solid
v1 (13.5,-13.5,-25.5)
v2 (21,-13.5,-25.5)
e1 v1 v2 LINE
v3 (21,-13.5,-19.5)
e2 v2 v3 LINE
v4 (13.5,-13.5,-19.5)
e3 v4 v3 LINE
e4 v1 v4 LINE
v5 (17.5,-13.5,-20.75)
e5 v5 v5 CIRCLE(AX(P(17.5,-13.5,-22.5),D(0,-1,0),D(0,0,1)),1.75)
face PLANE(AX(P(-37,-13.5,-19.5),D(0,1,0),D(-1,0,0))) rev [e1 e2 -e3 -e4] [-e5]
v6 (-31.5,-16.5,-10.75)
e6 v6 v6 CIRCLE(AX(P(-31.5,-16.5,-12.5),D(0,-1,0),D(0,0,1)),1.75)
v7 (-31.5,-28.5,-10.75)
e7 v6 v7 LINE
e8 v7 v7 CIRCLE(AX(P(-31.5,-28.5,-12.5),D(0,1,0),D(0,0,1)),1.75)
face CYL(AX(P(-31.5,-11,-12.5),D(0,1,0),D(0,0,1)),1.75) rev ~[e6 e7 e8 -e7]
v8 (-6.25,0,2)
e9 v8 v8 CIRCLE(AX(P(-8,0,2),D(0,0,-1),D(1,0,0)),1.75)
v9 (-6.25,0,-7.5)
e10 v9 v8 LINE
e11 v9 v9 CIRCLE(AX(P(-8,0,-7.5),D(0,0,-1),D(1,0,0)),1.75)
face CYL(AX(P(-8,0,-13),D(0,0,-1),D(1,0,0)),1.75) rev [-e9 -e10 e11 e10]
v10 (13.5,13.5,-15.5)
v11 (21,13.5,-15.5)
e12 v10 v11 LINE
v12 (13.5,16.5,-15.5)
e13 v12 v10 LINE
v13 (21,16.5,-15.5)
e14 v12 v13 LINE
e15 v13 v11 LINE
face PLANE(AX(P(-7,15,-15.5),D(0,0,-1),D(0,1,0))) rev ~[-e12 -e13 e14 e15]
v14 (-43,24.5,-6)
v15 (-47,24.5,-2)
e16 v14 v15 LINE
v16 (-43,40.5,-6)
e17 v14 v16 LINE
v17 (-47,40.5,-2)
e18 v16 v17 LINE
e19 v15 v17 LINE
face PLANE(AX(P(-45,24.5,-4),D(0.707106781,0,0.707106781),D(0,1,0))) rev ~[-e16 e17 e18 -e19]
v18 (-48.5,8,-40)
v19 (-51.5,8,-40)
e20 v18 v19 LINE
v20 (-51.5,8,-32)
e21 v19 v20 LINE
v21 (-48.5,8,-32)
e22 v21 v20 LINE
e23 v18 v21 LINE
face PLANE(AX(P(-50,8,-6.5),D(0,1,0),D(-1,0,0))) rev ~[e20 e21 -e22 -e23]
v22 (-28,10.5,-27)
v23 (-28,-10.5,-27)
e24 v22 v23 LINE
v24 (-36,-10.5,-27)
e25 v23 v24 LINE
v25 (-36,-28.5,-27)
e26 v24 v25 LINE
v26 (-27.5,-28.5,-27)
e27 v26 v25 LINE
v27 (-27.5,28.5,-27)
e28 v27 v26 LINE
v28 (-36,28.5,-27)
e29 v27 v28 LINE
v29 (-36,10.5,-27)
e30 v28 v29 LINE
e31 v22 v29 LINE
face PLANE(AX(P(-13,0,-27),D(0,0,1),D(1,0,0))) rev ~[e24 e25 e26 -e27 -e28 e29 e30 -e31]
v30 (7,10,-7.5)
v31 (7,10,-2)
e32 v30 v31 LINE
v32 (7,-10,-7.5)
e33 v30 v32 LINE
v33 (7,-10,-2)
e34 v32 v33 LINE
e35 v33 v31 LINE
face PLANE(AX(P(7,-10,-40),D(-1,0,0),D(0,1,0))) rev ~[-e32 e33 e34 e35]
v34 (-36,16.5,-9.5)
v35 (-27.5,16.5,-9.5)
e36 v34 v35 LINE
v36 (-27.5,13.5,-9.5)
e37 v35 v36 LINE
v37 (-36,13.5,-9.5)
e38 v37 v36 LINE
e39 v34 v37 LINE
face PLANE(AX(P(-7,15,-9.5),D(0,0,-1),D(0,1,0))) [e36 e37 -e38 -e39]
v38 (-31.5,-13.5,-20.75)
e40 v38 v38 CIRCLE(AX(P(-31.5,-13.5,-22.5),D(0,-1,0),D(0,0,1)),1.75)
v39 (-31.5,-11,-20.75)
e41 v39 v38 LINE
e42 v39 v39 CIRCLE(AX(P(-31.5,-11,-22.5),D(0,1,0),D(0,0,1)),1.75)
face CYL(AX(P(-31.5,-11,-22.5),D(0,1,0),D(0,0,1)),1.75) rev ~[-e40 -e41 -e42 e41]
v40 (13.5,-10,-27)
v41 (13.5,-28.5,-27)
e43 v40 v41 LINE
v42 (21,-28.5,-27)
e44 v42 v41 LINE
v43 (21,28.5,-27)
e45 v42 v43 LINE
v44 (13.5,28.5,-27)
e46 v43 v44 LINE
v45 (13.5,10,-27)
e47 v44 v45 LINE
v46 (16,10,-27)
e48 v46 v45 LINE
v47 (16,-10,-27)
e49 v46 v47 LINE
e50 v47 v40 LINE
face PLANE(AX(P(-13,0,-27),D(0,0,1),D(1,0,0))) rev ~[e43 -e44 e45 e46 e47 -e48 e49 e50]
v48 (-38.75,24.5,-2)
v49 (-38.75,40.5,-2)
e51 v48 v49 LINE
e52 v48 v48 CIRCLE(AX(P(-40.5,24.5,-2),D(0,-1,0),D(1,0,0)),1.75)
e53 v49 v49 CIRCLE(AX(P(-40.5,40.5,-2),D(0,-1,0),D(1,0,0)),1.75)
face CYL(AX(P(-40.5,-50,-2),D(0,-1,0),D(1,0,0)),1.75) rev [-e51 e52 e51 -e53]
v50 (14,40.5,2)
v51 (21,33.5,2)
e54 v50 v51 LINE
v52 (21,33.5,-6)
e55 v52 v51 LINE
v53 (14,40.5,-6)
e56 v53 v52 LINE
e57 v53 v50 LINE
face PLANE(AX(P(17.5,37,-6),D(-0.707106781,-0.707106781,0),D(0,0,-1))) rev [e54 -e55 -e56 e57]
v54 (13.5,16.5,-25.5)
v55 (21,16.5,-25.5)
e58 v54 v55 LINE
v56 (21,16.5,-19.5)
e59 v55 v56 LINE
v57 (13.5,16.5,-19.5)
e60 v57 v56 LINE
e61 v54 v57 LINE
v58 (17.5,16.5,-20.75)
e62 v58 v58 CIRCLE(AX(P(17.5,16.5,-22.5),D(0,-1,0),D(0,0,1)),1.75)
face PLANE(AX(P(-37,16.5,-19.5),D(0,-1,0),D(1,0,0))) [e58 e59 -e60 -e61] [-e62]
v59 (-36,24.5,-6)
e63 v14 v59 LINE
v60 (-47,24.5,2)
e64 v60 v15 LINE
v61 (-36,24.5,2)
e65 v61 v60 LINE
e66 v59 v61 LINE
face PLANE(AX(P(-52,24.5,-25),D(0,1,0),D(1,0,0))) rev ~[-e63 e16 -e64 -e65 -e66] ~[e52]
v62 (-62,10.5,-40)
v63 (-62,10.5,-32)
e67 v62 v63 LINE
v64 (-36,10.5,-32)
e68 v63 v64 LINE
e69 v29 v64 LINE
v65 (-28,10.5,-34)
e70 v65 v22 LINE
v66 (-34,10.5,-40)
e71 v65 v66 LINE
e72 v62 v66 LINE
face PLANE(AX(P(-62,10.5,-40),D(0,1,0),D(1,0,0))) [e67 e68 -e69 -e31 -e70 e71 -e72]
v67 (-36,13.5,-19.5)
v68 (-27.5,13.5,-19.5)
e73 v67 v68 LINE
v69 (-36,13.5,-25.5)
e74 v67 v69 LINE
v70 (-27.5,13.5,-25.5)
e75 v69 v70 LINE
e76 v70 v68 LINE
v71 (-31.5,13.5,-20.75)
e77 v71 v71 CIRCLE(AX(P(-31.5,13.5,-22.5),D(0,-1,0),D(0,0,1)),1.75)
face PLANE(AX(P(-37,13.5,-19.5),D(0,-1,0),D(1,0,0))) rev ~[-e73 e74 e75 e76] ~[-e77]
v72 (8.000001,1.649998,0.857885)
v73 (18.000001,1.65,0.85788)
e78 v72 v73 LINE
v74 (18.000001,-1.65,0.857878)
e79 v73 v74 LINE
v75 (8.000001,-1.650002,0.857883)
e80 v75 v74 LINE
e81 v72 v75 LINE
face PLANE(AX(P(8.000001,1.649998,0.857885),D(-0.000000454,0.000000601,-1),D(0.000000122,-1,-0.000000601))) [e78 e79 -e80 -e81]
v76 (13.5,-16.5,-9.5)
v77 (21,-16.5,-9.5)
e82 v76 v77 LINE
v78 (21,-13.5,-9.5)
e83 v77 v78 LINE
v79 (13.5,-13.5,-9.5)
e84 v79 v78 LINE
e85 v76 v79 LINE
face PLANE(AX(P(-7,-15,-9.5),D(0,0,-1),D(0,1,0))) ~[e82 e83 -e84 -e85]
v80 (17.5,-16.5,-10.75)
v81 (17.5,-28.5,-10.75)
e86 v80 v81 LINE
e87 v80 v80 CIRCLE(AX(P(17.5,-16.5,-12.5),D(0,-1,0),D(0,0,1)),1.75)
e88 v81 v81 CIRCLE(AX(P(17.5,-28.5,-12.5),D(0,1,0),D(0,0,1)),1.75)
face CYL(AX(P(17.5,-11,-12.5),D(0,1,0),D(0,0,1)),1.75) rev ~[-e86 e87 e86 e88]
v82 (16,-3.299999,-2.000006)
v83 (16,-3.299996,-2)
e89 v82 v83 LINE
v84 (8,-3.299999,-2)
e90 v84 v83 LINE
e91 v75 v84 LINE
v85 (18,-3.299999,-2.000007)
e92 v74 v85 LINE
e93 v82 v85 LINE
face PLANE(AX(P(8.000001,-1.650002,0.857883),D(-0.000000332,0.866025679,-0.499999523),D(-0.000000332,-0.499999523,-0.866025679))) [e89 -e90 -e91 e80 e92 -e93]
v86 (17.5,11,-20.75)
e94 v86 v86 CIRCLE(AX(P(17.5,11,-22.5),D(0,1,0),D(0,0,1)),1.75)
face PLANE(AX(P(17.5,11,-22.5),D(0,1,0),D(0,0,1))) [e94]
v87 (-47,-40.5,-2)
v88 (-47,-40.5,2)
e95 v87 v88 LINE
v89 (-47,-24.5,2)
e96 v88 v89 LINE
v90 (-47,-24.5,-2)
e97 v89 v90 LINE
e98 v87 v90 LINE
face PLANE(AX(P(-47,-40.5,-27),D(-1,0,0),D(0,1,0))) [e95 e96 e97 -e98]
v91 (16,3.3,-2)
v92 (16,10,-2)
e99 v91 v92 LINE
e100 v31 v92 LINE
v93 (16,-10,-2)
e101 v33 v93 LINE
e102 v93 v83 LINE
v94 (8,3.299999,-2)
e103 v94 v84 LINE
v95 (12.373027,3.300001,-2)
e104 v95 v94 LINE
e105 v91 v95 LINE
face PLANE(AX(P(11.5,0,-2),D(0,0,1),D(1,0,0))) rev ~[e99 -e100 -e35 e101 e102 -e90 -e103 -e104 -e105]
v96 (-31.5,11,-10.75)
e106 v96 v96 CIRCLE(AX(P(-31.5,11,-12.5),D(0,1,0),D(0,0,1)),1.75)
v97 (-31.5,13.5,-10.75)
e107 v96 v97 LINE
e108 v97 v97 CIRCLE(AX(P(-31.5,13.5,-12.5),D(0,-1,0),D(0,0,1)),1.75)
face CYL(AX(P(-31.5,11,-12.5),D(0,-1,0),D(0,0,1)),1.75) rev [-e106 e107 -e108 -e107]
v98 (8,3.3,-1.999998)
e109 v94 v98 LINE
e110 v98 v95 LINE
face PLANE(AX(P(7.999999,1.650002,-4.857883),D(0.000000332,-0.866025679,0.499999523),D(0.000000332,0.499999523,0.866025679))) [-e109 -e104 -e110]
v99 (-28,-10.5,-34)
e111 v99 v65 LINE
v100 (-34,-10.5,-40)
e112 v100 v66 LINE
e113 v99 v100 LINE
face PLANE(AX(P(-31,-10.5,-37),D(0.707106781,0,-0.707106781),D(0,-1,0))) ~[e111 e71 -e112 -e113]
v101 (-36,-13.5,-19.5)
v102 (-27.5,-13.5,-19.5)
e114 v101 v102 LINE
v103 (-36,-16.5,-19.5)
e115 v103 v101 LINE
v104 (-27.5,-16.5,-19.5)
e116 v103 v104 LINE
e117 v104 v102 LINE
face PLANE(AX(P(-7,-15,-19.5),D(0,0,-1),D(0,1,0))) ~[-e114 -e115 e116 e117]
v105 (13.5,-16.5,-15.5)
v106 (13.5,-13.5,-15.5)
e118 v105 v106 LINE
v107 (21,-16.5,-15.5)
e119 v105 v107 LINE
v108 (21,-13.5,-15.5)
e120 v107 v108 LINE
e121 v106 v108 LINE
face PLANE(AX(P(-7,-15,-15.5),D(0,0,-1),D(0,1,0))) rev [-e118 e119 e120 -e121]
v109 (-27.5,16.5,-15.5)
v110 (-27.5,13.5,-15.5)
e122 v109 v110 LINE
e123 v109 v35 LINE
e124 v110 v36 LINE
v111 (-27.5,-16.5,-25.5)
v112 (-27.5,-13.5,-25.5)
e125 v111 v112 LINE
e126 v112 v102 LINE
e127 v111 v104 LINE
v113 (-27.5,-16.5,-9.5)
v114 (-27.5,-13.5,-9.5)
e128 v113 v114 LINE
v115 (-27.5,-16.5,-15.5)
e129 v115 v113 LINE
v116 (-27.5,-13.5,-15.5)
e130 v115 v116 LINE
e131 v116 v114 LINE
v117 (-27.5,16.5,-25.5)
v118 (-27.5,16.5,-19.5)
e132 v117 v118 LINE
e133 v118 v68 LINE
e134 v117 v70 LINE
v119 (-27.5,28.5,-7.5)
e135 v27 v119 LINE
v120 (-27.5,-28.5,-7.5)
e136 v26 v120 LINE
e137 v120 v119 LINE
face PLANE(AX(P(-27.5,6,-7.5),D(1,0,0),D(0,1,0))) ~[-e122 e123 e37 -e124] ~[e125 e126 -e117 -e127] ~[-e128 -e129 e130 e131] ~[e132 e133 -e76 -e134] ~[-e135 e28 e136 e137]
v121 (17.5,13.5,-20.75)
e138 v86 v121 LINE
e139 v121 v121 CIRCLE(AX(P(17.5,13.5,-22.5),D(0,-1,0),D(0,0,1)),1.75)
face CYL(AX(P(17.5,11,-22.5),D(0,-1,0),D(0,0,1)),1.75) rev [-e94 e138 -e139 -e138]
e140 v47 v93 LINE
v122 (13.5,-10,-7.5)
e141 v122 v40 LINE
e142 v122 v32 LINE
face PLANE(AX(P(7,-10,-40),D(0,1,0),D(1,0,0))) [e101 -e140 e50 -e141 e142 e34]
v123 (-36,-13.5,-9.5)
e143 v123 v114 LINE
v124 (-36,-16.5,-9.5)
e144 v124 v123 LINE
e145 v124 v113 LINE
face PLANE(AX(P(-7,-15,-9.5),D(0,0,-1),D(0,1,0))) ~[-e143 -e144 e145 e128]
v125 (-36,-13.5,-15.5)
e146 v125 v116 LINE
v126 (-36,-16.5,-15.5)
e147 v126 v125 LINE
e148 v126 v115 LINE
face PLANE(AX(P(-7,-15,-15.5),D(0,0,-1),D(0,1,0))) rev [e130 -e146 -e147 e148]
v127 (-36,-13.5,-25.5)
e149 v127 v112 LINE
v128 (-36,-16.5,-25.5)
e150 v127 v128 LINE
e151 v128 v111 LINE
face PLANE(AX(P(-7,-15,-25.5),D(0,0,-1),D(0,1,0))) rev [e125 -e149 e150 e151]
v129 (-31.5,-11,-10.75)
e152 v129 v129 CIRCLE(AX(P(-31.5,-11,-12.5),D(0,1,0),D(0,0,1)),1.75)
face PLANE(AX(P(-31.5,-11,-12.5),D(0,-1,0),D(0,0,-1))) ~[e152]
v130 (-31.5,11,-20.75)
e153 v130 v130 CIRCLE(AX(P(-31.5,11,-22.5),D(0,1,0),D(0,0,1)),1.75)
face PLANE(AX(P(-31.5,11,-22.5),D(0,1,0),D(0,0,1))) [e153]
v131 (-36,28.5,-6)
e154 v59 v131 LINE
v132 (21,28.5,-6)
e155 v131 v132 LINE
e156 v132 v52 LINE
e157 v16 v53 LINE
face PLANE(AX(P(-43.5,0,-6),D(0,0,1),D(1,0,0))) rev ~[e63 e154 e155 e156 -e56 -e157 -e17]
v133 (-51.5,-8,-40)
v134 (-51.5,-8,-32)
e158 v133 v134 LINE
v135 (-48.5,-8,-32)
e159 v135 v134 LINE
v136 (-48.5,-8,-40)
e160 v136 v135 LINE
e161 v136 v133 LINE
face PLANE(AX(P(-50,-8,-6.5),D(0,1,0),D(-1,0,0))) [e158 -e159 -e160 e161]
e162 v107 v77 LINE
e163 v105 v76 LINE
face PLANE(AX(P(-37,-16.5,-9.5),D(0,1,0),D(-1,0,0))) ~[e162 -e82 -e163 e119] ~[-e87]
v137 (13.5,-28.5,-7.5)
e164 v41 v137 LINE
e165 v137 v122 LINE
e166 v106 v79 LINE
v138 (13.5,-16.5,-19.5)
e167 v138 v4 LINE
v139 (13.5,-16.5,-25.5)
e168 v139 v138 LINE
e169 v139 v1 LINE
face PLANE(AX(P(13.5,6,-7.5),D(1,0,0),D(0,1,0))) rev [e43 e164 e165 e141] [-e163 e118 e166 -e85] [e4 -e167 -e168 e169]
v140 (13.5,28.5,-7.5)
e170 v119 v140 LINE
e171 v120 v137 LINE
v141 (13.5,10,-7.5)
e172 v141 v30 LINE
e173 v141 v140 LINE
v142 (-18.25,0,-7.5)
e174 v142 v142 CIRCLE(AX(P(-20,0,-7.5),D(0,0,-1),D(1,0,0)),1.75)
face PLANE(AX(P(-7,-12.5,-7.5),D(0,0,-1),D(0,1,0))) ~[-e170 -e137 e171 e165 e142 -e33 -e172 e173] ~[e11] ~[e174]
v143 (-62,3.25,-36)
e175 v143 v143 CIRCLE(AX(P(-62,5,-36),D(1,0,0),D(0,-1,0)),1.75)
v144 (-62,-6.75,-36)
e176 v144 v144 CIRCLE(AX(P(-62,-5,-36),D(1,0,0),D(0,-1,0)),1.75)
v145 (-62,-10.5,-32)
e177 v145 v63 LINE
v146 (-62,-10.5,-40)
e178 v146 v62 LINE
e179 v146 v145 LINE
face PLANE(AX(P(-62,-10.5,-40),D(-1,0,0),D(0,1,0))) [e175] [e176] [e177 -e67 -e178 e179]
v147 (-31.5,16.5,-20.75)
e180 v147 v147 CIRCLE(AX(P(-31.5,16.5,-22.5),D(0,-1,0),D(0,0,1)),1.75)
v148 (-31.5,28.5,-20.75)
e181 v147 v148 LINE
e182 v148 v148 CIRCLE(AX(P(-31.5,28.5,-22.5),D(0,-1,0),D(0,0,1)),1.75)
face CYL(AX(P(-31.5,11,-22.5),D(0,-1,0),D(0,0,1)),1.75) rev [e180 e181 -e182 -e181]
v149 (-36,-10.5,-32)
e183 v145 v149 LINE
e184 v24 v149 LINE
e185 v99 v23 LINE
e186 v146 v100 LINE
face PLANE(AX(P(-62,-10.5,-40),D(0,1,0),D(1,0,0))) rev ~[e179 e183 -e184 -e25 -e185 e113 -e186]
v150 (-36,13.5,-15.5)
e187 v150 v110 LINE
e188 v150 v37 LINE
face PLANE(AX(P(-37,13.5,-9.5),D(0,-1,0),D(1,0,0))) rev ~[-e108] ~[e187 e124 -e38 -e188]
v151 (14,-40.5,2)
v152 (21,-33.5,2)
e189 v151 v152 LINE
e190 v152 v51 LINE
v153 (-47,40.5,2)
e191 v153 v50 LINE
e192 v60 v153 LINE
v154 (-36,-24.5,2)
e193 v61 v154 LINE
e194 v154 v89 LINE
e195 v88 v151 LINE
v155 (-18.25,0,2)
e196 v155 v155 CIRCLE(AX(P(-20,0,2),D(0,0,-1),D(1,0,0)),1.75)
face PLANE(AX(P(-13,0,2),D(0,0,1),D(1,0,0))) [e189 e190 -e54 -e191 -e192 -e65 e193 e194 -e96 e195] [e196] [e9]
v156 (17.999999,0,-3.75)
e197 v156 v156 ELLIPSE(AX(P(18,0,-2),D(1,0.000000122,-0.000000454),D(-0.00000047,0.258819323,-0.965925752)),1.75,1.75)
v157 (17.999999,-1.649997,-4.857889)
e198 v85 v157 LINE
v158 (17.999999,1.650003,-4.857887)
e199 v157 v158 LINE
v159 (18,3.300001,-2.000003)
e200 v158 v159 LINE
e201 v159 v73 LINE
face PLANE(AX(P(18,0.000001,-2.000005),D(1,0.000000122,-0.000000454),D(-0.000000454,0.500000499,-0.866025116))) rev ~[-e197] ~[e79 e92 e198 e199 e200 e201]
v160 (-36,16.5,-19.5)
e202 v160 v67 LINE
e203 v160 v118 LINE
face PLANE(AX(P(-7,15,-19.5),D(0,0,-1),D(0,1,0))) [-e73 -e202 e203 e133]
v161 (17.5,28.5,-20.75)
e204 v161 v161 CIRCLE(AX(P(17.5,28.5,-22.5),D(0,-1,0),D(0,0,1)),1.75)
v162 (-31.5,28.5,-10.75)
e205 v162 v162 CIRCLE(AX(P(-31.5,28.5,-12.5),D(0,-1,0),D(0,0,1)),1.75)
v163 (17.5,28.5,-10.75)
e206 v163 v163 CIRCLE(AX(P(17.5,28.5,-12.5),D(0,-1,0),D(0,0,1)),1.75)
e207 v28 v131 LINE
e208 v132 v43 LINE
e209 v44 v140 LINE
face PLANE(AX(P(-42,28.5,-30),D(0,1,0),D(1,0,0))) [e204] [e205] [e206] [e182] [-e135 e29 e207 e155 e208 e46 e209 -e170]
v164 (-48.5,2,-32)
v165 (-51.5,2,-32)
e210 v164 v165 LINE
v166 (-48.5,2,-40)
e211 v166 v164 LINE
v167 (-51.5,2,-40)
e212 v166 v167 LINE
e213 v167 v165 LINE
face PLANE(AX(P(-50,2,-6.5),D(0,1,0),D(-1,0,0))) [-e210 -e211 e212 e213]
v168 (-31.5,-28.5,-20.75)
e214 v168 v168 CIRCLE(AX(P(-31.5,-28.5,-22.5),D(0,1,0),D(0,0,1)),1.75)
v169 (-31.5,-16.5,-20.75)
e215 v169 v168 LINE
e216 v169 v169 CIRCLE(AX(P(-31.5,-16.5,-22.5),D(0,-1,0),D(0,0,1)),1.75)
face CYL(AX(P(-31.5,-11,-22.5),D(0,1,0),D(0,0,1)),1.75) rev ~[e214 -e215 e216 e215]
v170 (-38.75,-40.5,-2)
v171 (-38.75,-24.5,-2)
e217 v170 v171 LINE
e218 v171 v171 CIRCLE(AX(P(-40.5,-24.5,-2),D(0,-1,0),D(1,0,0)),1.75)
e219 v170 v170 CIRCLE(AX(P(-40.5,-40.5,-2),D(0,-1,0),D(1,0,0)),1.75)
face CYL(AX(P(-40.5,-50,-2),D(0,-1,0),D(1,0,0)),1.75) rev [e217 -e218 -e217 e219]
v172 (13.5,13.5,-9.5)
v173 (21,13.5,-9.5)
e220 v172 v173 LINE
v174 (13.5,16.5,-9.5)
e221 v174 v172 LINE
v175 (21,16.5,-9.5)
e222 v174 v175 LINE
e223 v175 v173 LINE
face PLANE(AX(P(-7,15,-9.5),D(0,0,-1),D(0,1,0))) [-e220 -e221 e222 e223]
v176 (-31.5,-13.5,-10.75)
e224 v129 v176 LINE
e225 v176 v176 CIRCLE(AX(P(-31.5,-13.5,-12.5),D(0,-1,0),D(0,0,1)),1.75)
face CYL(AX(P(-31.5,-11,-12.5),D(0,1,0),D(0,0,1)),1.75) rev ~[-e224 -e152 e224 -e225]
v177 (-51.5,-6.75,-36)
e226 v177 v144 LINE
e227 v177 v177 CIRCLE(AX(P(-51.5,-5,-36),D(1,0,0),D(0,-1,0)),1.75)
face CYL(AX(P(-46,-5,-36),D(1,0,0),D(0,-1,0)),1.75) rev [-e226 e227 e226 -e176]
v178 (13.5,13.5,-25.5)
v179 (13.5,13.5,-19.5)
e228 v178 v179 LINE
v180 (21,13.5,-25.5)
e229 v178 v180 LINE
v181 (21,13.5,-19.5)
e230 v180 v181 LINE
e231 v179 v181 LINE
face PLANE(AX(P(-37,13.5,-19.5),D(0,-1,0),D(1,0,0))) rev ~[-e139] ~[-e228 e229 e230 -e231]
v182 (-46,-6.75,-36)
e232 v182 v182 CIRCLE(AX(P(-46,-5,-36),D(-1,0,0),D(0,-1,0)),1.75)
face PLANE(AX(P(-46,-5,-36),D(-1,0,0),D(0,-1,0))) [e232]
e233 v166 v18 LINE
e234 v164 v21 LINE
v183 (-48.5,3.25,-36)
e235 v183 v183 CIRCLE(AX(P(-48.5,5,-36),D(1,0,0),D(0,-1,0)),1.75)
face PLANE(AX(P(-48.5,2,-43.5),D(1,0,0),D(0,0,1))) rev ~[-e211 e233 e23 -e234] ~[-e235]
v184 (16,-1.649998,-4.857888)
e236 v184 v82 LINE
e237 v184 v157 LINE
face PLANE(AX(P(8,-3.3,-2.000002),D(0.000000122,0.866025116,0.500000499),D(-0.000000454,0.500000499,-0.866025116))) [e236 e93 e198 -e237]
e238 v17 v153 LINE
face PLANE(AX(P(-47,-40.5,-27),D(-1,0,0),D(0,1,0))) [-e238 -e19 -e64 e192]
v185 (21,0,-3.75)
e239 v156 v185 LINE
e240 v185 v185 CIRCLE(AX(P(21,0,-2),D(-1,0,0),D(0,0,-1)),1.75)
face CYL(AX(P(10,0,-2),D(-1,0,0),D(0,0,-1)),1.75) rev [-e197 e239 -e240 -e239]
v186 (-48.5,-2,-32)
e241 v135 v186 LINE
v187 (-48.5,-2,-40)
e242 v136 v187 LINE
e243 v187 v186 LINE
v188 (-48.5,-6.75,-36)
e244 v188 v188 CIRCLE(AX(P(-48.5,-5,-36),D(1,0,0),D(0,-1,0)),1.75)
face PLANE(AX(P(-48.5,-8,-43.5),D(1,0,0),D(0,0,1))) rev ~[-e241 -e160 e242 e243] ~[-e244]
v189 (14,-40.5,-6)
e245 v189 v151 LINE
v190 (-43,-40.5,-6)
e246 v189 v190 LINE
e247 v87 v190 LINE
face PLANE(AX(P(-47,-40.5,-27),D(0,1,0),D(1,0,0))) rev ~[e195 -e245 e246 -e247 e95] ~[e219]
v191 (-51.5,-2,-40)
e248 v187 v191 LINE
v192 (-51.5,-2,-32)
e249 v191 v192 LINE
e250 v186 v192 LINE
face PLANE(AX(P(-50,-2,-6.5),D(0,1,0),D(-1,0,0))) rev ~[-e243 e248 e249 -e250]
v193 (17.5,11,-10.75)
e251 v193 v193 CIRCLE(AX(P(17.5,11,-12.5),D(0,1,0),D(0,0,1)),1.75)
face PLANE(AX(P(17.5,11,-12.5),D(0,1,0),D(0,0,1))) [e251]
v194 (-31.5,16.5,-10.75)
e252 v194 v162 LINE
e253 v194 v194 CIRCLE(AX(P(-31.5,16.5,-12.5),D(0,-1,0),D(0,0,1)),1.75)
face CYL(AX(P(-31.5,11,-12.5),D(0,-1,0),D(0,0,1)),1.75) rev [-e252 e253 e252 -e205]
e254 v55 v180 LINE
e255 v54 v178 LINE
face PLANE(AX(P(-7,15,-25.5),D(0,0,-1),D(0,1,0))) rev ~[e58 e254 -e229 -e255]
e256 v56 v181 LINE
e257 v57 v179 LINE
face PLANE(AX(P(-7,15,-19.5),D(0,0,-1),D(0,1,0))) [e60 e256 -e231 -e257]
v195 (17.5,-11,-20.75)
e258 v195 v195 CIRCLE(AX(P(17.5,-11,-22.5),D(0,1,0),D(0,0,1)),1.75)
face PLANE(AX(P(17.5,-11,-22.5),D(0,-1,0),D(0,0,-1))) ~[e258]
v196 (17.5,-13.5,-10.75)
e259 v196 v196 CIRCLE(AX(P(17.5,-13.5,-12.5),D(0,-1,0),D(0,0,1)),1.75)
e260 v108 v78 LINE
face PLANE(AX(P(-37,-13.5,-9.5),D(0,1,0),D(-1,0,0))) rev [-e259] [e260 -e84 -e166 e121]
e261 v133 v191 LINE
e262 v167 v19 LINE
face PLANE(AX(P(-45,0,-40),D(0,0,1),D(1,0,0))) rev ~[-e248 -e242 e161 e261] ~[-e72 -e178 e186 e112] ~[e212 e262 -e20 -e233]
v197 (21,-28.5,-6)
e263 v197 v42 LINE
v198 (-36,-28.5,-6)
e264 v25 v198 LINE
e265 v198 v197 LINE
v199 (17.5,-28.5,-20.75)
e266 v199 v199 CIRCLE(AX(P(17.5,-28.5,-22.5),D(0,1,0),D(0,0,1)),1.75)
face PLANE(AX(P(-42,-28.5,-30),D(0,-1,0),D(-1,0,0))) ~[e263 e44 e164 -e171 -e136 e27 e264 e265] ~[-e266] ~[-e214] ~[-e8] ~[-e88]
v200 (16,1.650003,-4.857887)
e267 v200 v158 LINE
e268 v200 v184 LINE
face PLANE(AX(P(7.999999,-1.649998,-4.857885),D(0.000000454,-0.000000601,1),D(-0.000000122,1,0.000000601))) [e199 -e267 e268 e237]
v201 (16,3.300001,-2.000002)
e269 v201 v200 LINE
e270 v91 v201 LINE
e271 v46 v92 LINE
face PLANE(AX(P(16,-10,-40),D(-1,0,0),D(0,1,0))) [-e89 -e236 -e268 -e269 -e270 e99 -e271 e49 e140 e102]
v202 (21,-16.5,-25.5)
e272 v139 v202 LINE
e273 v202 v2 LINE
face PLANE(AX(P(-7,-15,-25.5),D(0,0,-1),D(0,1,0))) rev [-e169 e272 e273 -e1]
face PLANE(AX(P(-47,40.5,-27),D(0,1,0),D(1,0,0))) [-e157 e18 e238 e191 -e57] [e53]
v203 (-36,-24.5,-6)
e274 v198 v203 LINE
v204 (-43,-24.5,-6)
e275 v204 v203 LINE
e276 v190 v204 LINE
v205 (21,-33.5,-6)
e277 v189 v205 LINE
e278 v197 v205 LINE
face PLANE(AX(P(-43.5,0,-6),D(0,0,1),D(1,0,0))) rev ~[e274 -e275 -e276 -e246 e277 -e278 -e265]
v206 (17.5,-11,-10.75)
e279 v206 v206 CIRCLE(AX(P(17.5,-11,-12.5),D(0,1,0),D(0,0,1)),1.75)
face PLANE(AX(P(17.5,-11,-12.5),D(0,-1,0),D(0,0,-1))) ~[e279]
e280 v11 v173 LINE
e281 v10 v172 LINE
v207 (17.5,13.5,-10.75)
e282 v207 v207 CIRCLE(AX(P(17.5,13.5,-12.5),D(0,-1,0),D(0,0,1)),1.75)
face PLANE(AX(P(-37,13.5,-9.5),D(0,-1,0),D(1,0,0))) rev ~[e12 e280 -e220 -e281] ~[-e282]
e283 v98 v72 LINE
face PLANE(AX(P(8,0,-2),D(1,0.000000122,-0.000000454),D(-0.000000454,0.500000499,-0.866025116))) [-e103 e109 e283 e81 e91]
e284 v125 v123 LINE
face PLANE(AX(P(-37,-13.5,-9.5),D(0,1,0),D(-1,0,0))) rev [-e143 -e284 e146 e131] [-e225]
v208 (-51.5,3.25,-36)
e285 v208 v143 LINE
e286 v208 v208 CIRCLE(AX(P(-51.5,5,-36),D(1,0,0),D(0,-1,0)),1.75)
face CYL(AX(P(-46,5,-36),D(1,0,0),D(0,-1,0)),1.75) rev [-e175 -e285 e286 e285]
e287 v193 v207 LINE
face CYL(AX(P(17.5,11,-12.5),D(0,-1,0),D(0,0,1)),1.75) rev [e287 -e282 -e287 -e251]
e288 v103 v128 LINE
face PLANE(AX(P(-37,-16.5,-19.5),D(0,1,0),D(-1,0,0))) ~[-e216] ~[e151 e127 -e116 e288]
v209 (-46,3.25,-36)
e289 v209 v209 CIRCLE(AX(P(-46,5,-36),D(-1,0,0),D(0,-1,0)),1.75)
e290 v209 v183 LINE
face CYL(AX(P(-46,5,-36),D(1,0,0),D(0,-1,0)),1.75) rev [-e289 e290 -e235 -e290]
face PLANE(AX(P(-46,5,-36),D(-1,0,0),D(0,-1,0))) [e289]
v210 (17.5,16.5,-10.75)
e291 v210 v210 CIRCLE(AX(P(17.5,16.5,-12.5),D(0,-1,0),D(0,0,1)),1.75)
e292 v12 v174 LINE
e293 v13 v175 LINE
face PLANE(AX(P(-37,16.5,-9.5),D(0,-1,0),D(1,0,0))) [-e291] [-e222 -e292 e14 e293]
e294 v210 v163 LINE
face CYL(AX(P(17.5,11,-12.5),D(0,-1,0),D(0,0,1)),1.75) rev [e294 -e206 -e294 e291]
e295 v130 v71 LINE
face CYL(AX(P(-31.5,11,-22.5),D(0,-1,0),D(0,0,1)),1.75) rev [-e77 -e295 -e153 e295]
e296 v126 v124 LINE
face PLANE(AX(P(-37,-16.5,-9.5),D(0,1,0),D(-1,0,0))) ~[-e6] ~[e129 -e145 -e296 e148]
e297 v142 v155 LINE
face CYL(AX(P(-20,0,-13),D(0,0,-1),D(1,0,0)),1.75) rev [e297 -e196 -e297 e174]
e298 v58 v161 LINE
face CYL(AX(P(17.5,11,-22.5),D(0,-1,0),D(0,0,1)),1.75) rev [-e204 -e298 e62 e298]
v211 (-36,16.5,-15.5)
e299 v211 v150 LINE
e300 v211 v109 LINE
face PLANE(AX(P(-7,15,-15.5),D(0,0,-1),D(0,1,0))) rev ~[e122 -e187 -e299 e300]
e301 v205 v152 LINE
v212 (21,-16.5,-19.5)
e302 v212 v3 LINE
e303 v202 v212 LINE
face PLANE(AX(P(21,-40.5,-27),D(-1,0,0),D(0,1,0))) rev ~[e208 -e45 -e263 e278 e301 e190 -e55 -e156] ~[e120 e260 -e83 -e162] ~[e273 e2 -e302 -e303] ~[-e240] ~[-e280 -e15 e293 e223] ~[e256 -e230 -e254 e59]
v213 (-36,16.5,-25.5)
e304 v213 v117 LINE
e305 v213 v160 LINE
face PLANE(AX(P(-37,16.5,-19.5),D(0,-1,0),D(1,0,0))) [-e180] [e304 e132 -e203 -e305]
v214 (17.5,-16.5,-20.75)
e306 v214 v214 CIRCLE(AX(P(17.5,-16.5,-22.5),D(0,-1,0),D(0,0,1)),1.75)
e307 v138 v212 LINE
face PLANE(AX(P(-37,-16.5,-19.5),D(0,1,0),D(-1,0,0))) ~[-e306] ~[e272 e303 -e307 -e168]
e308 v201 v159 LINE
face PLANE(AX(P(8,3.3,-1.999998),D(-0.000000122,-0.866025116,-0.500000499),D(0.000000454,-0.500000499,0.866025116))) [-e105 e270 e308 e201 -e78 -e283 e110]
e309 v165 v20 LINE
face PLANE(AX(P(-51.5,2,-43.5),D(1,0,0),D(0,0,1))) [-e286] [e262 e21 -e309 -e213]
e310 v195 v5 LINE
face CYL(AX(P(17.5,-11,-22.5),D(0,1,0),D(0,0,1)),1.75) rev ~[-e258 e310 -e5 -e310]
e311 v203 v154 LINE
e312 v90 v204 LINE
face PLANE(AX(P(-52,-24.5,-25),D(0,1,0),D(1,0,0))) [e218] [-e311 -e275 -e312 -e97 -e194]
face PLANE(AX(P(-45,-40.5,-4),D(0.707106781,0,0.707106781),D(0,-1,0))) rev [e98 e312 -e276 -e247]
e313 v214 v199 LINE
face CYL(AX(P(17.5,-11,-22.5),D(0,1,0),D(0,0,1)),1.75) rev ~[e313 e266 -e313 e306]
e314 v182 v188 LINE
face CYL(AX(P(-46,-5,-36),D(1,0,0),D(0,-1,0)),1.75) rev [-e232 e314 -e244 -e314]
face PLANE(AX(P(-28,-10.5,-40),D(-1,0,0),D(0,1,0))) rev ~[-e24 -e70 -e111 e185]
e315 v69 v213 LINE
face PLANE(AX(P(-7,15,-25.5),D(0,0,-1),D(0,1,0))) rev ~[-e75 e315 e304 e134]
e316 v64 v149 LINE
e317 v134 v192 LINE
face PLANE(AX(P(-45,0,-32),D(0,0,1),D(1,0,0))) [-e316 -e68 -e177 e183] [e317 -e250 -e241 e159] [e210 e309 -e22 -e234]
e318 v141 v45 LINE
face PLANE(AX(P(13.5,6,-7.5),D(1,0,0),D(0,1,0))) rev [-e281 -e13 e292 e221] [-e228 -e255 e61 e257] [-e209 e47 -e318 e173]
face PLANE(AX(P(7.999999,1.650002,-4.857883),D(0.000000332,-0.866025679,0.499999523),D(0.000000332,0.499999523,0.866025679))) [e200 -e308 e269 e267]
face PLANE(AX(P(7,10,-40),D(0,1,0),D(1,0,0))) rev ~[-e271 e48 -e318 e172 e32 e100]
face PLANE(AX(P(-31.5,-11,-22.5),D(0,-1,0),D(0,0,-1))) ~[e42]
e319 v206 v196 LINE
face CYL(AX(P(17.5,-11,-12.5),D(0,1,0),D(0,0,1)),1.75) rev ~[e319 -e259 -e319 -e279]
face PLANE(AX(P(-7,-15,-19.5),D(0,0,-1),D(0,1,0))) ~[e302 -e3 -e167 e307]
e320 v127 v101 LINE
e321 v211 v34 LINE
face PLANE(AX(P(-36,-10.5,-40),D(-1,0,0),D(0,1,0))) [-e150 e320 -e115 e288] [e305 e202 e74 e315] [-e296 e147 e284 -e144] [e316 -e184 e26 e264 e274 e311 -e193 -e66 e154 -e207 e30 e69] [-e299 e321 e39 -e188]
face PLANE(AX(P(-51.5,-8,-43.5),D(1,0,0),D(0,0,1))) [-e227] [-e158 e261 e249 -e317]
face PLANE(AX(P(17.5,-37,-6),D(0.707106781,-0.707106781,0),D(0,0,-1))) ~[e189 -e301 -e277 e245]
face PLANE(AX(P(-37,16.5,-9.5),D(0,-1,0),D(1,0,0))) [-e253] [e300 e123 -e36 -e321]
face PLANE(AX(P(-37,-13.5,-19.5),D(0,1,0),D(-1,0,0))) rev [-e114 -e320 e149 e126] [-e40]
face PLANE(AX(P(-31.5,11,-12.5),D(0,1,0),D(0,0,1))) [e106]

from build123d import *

# Parameters (mm, degrees)
BOX061_W                  = 15
BOX061_H                  = 100
BOX061_DEPTH              = 24
BOX060_W                  = 9
BOX060_H                  = 20
BOX060_DEPTH              = 38
CYLINDER059_R             = 1.75
CYLINDER059_DEPTH         = 36
CYLINDER058_R             = 1.75
CYLINDER058_DEPTH         = 36
PRISM_DEPTH               = 10
PRISM_ROLL_ANGLE          = 90.000052
PRISM_PITCH_ANGLE         = 59.999967
PRISM_PLACEMENT_ANGLE     = 90.000052
CYLINDER032_R             = 1.75
CYLINDER032_DEPTH         = 30
CYLINDER032_PITCH_ANGLE   = 90
CYLINDER030_R             = 1.75
CYLINDER030_DEPTH         = 24.5
CYLINDER030_PITCH_ANGLE   = 90
CYLINDER031_R             = 3
CYLINDER031_DEPTH         = 21.5
CYLINDER031_PITCH_ANGLE   = 90
FUSION027_PITCH_ANGLE     = -90
FUSION027_PLACEMENT_ANGLE = -180
FUSION024_PITCH_ANGLE     = -90
FUSION024_PLACEMENT_ANGLE = -180
FUSION025_PITCH_ANGLE     = -90
FUSION025_PLACEMENT_ANGLE = -180
BOX029_W                  = 3
BOX029_H                  = 74
BOX029_DEPTH              = 6
BOX029_PITCH_ANGLE        = -90
BOX029_PLACEMENT_ANGLE    = -180
BOX030_W                  = 3
BOX030_H                  = 74
BOX030_DEPTH              = 6
BOX030_PITCH_ANGLE        = -90
BOX030_PLACEMENT_ANGLE    = -180
FUSION026_PITCH_ANGLE     = -90
FUSION026_PLACEMENT_ANGLE = -180
FUSION028_ROLL_ANGLE      = -90
FUSION028_PLACEMENT_ANGLE = 90
BOX014_W                  = 34
BOX014_H                  = 21
BOX014_DEPTH              = 8
BOX015_W                  = 8
BOX015_H                  = 21
BOX015_DEPTH              = 42
CYLINDER025_R             = 1.75
CYLINDER025_DEPTH         = 100
CYLINDER025_ROLL_ANGLE    = -90
CYLINDER028_R             = 1.75
CYLINDER028_DEPTH         = 24.5
CYLINDER028_PITCH_ANGLE   = 90
CYLINDER029_R             = 3
CYLINDER029_DEPTH         = 21.5
CYLINDER029_PITCH_ANGLE   = 90
FUSION018_PITCH_ANGLE     = -90
FUSION018_PLACEMENT_ANGLE = -180
BOX024_W                  = 3
BOX024_H                  = 60
BOX024_DEPTH              = 6
BOX024_PITCH_ANGLE        = -90
BOX024_PLACEMENT_ANGLE    = -180
BOX025_W                  = 3
BOX025_H                  = 60
BOX025_DEPTH              = 6
BOX025_PITCH_ANGLE        = -90
BOX025_PLACEMENT_ANGLE    = -180
BOX022_W                  = 37
BOX022_H                  = 41
BOX022_DEPTH              = 25
BOX022_PITCH_ANGLE        = -90
BOX022_PLACEMENT_ANGLE    = -180
FUSION015_PITCH_ANGLE     = -90
FUSION015_PLACEMENT_ANGLE = -180
FUSION016_PITCH_ANGLE     = -90
FUSION016_PLACEMENT_ANGLE = -180
FUSION017_PITCH_ANGLE     = -90
FUSION017_PLACEMENT_ANGLE = -180
FUSION022_PITCH_ANGLE     = 90
FUSION022_PLACEMENT_ANGLE = 90
BOX059_W                  = 72
BOX059_H                  = 21
BOX059_DEPTH              = 24
BOX012_W                  = 16
BOX012_H                  = 49
BOX012_DEPTH              = 30
BOX011_W                  = 68
BOX011_H                  = 81
BOX011_DEPTH              = 29
CHAMFER007_SIZE           = 7
CHAMFER008_SIZE           = 6
CHAMFER011_SIZE           = 4


with BuildPart() as cube064:
    # Box061 → Box061 (new body)
    with BuildSketch(Plane(origin=(-51, -50, -30), x_dir=(1, 0, 0), z_dir=(0, 0, 1))):
        with Locations((7.5, 50)):
            Rectangle(BOX061_W, BOX061_H)
    extrude(amount=BOX061_DEPTH)


with BuildPart() as cube063:
    # Box060 → Box060 (new body)
    with BuildSketch(Plane(origin=(7, -10, -40), x_dir=(1, 0, 0), z_dir=(0, 0, 1))):
        with Locations((4.5, 10)):
            Rectangle(BOX060_W, BOX060_H)
    extrude(amount=BOX060_DEPTH)


with BuildPart() as cylinder154:
    # Cylinder059 → Cylinder059 (new body)
    with BuildSketch(Plane(origin=(-8, 0, -13), x_dir=(1, 0, 0), z_dir=(0, 0, 1))):
        Circle(CYLINDER059_R)
    extrude(amount=CYLINDER059_DEPTH)


with BuildPart() as fusion054:
    # Cylinder058 → Cylinder058 (new body)
    with BuildSketch(Plane(origin=(-20, 0, -13), x_dir=(1, 0, 0), z_dir=(0, 0, 1))):
        Circle(CYLINDER058_R)
    extrude(amount=CYLINDER058_DEPTH)

    # Fusion054: union Cylinder154
    add(cylinder154.part)


with BuildPart() as prism:
    # Prism → Prism (new body)
    with BuildSketch(Plane.XY):
        Polygon((3.3, 0), (1.65, 2.857884), (-1.65, 2.857884), (-3.3, 0), (-1.65, -2.857884), (1.65, -2.857884), align=None)
    extrude(amount=PRISM_DEPTH)


with BuildPart() as prism_1:
    # Prism roll: moved
    add(prism.part.rotate(Axis((0, 0, 0), (1, 0, 0)), PRISM_ROLL_ANGLE))


with BuildPart() as prism_2:
    # Prism pitch: moved
    add(prism_1.part.rotate(Axis((0, 0, 0), (0, 1, 0)), PRISM_PITCH_ANGLE))


with BuildPart() as prism_3:
    # Prism placement: moved
    add(prism_2.part.moved(Location((8, 0, -2))).rotate(Axis((8, 0, -2), (0, 0, 1)), PRISM_PLACEMENT_ANGLE))


with BuildPart() as cylinder147:
    # Cylinder032 → Cylinder032 (new body)
    with BuildSketch(Plane.XY):
        Circle(CYLINDER032_R)
    extrude(amount=CYLINDER032_DEPTH)


with BuildPart() as cylinder147_1:
    # Cylinder032 pitch: moved
    add(cylinder147.part.rotate(Axis((0, 0, 0), (0, 1, 0)), CYLINDER032_PITCH_ANGLE))


with BuildPart() as cylinder147_2:
    # Cylinder032 placement: moved
    add(cylinder147_1.part.moved(Location((10, 0, -2))))


with BuildPart() as joint_d014:
    # Cylinder030 → Cylinder030 (new body)
    with BuildSketch(Plane.XY):
        Circle(CYLINDER030_R)
    extrude(amount=CYLINDER030_DEPTH)


with BuildPart() as joint_d014_1:
    # Cylinder030 pitch: moved
    add(joint_d014.part.rotate(Axis((0, 0, 0), (0, 1, 0)), CYLINDER030_PITCH_ANGLE))


with BuildPart() as joint_d014_2:
    # Cylinder030 placement: moved
    add(joint_d014_1.part.moved(Location((16, -24.5, 7))))


with BuildPart() as joint_d015:
    # Cylinder031 → Cylinder031 (new body)
    with BuildSketch(Plane.XY):
        Circle(CYLINDER031_R)
    extrude(amount=CYLINDER031_DEPTH)


with BuildPart() as joint_d015_1:
    # Cylinder031 pitch: moved
    add(joint_d015.part.rotate(Axis((0, 0, 0), (0, 1, 0)), CYLINDER031_PITCH_ANGLE))


with BuildPart() as joint_d015_2:
    # Cylinder031 placement: moved
    add(joint_d015_1.part.moved(Location((37, -24.5, 7))))


with BuildPart() as fusion027:
    # Fusion027 base: copy of Joint-D015
    add(joint_d015_2.part)

    # Fusion027: union Joint-D014
    add(joint_d014_2.part)


with BuildPart() as fusion027_1:
    # Fusion027 pitch: moved
    add(fusion027.part.rotate(Axis((0, 0, 0), (0, 1, 0)), FUSION027_PITCH_ANGLE))


with BuildPart() as fusion027_2:
    # Fusion027 placement: moved
    add(fusion027_1.part.moved(Location((-2, -39.5, 0))).rotate(Axis((-2, -39.5, 0), (0, 0, 1)), FUSION027_PLACEMENT_ANGLE))


with BuildPart() as fusion024:
    # Fusion024 base: copy of Joint-D015
    add(joint_d015_2.part)

    # Fusion024: union Joint-D014
    add(joint_d014_2.part)


with BuildPart() as fusion024_1:
    # Fusion024 pitch: moved
    add(fusion024.part.rotate(Axis((0, 0, 0), (0, 1, 0)), FUSION024_PITCH_ANGLE))


with BuildPart() as fusion024_2:
    # Fusion024 placement: moved
    add(fusion024_1.part.moved(Location((-12, 9.5, 0))).rotate(Axis((-12, 9.5, 0), (0, 0, 1)), FUSION024_PLACEMENT_ANGLE))


with BuildPart() as fusion025:
    # Fusion025 base: copy of Joint-D015
    add(joint_d015_2.part)

    # Fusion025: union Joint-D014
    add(joint_d014_2.part)


with BuildPart() as fusion025_1:
    # Fusion025 pitch: moved
    add(fusion025.part.rotate(Axis((0, 0, 0), (0, 1, 0)), FUSION025_PITCH_ANGLE))


with BuildPart() as fusion025_2:
    # Fusion025 placement: moved
    add(fusion025_1.part.moved(Location((-2, 9.5, 0))).rotate(Axis((-2, 9.5, 0), (0, 0, 1)), FUSION025_PLACEMENT_ANGLE))


with BuildPart() as cube047:
    # Box029 → Box029 (new body)
    with BuildSketch(Plane.XY):
        with Locations((1.5, 37)):
            Rectangle(BOX029_W, BOX029_H)
    extrude(amount=BOX029_DEPTH)


with BuildPart() as cube047_1:
    # Box029 pitch: moved
    add(cube047.part.rotate(Axis((0, 0, 0), (0, 1, 0)), BOX029_PITCH_ANGLE))


with BuildPart() as cube047_2:
    # Box029 placement: moved
    add(cube047_1.part.moved(Location((-8, 41.5, 18.5))).rotate(Axis((-8, 41.5, 18.5), (0, 0, 1)), BOX029_PLACEMENT_ANGLE))


with BuildPart() as cube048:
    # Box030 → Box030 (new body)
    with BuildSketch(Plane.XY):
        with Locations((1.5, 37)):
            Rectangle(BOX030_W, BOX030_H)
    extrude(amount=BOX030_DEPTH)


with BuildPart() as cube048_1:
    # Box030 pitch: moved
    add(cube048.part.rotate(Axis((0, 0, 0), (0, 1, 0)), BOX030_PITCH_ANGLE))


with BuildPart() as cube048_2:
    # Box030 placement: moved
    add(cube048_1.part.moved(Location((2, 41.5, 18.5))).rotate(Axis((2, 41.5, 18.5), (0, 0, 1)), BOX030_PLACEMENT_ANGLE))


with BuildPart() as fusion028:
    # Fusion026 base: copy of Joint-D015
    add(joint_d015_2.part)

    # Fusion026: union Joint-D014
    add(joint_d014_2.part)


with BuildPart() as fusion028_1:
    # Fusion026 pitch: moved
    add(fusion028.part.rotate(Axis((0, 0, 0), (0, 1, 0)), FUSION026_PITCH_ANGLE))


with BuildPart() as fusion028_2:
    # Fusion026 placement: moved
    add(fusion028_1.part.moved(Location((-12, -39.5, 0))).rotate(Axis((-12, -39.5, 0), (0, 0, 1)), FUSION026_PLACEMENT_ANGLE))

    # Fusion028: union Fusion027, Fusion024, Fusion025, Cube047, Cube048
    add(fusion027_2.part)
    add(fusion024_2.part)
    add(fusion025_2.part)
    add(cube047_2.part)
    add(cube048_2.part)


with BuildPart() as fusion028_3:
    # Fusion028 roll: moved
    add(fusion028_2.part.rotate(Axis((0, 0, 0), (1, 0, 0)), FUSION028_ROLL_ANGLE))


with BuildPart() as fusion028_4:
    # Fusion028 placement: moved
    add(fusion028_3.part.moved(Location((-30, 0, -2))).rotate(Axis((-30, 0, -2), (0, 0, 1)), FUSION028_PLACEMENT_ANGLE))


with BuildPart() as cube015:
    # Box014 → Box014 (new body)
    with BuildSketch(Plane(origin=(-62, -10.5, -40), x_dir=(1, 0, 0), z_dir=(0, 0, 1))):
        with Locations((17, 10.5)):
            Rectangle(BOX014_W, BOX014_H)
    extrude(amount=BOX014_DEPTH)


with BuildPart() as cube016:
    # Box015 → Box015 (new body)
    with BuildSketch(Plane(origin=(-36, -10.5, -40), x_dir=(1, 0, 0), z_dir=(0, 0, 1))):
        with Locations((4, 10.5)):
            Rectangle(BOX015_W, BOX015_H)
    extrude(amount=BOX015_DEPTH)


with BuildPart() as cylinder025:
    # Cylinder025 → Cylinder025 (new body)
    with BuildSketch(Plane.XY):
        Circle(CYLINDER025_R)
    extrude(amount=CYLINDER025_DEPTH)


with BuildPart() as cylinder025_1:
    # Cylinder025 roll: moved
    add(cylinder025.part.rotate(Axis((0, 0, 0), (1, 0, 0)), CYLINDER025_ROLL_ANGLE))


with BuildPart() as cylinder025_2:
    # Cylinder025 placement: moved
    add(cylinder025_1.part.moved(Location((-40.5, -50, -2))))


with BuildPart() as joint_d012:
    # Cylinder028 → Cylinder028 (new body)
    with BuildSketch(Plane.XY):
        Circle(CYLINDER028_R)
    extrude(amount=CYLINDER028_DEPTH)


with BuildPart() as joint_d012_1:
    # Cylinder028 pitch: moved
    add(joint_d012.part.rotate(Axis((0, 0, 0), (0, 1, 0)), CYLINDER028_PITCH_ANGLE))


with BuildPart() as joint_d012_2:
    # Cylinder028 placement: moved
    add(joint_d012_1.part.moved(Location((16, -24.5, 7))))


with BuildPart() as joint_d013:
    # Cylinder029 → Cylinder029 (new body)
    with BuildSketch(Plane.XY):
        Circle(CYLINDER029_R)
    extrude(amount=CYLINDER029_DEPTH)


with BuildPart() as joint_d013_1:
    # Cylinder029 pitch: moved
    add(joint_d013.part.rotate(Axis((0, 0, 0), (0, 1, 0)), CYLINDER029_PITCH_ANGLE))


with BuildPart() as joint_d013_2:
    # Cylinder029 placement: moved
    add(joint_d013_1.part.moved(Location((37, -24.5, 7))))


with BuildPart() as fusion018:
    # Fusion018 base: copy of Joint-D013
    add(joint_d013_2.part)

    # Fusion018: union Joint-D012
    add(joint_d012_2.part)


with BuildPart() as fusion018_1:
    # Fusion018 pitch: moved
    add(fusion018.part.rotate(Axis((0, 0, 0), (0, 1, 0)), FUSION018_PITCH_ANGLE))


with BuildPart() as fusion018_2:
    # Fusion018 placement: moved
    add(fusion018_1.part.moved(Location((-2, -39.5, 0))).rotate(Axis((-2, -39.5, 0), (0, 0, 1)), FUSION018_PLACEMENT_ANGLE))


with BuildPart() as cube043:
    # Box024 → Box024 (new body)
    with BuildSketch(Plane.XY):
        with Locations((1.5, 30)):
            Rectangle(BOX024_W, BOX024_H)
    extrude(amount=BOX024_DEPTH)


with BuildPart() as cube043_1:
    # Box024 pitch: moved
    add(cube043.part.rotate(Axis((0, 0, 0), (0, 1, 0)), BOX024_PITCH_ANGLE))


with BuildPart() as cube043_2:
    # Box024 placement: moved
    add(cube043_1.part.moved(Location((-8, 39.5, 18.5))).rotate(Axis((-8, 39.5, 18.5), (0, 0, 1)), BOX024_PLACEMENT_ANGLE))


with BuildPart() as cube044:
    # Box025 → Box025 (new body)
    with BuildSketch(Plane.XY):
        with Locations((1.5, 30)):
            Rectangle(BOX025_W, BOX025_H)
    extrude(amount=BOX025_DEPTH)


with BuildPart() as cube044_1:
    # Box025 pitch: moved
    add(cube044.part.rotate(Axis((0, 0, 0), (0, 1, 0)), BOX025_PITCH_ANGLE))


with BuildPart() as cube044_2:
    # Box025 placement: moved
    add(cube044_1.part.moved(Location((2, 39.5, 18.5))).rotate(Axis((2, 39.5, 18.5), (0, 0, 1)), BOX025_PLACEMENT_ANGLE))


with BuildPart() as cube042:
    # Box022 → Box022 (new body)
    with BuildSketch(Plane.XY):
        with Locations((18.5, 20.5)):
            Rectangle(BOX022_W, BOX022_H)
    extrude(amount=BOX022_DEPTH)


with BuildPart() as cube042_1:
    # Box022 pitch: moved
    add(cube042.part.rotate(Axis((0, 0, 0), (0, 1, 0)), BOX022_PITCH_ANGLE))


with BuildPart() as cube042_2:
    # Box022 placement: moved
    add(cube042_1.part.moved(Location((-10, 30, -1))).rotate(Axis((-10, 30, -1), (0, 0, 1)), BOX022_PLACEMENT_ANGLE))


with BuildPart() as fusion015:
    # Fusion015 base: copy of Joint-D013
    add(joint_d013_2.part)

    # Fusion015: union Joint-D012
    add(joint_d012_2.part)


with BuildPart() as fusion015_1:
    # Fusion015 pitch: moved
    add(fusion015.part.rotate(Axis((0, 0, 0), (0, 1, 0)), FUSION015_PITCH_ANGLE))


with BuildPart() as fusion015_2:
    # Fusion015 placement: moved
    add(fusion015_1.part.moved(Location((-12, 9.5, 0))).rotate(Axis((-12, 9.5, 0), (0, 0, 1)), FUSION015_PLACEMENT_ANGLE))


with BuildPart() as fusion016:
    # Fusion016 base: copy of Joint-D013
    add(joint_d013_2.part)

    # Fusion016: union Joint-D012
    add(joint_d012_2.part)


with BuildPart() as fusion016_1:
    # Fusion016 pitch: moved
    add(fusion016.part.rotate(Axis((0, 0, 0), (0, 1, 0)), FUSION016_PITCH_ANGLE))


with BuildPart() as fusion016_2:
    # Fusion016 placement: moved
    add(fusion016_1.part.moved(Location((-2, 9.5, 0))).rotate(Axis((-2, 9.5, 0), (0, 0, 1)), FUSION016_PLACEMENT_ANGLE))


with BuildPart() as fusion022:
    # Fusion017 base: copy of Joint-D013
    add(joint_d013_2.part)

    # Fusion017: union Joint-D012
    add(joint_d012_2.part)


with BuildPart() as fusion022_1:
    # Fusion017 pitch: moved
    add(fusion022.part.rotate(Axis((0, 0, 0), (0, 1, 0)), FUSION017_PITCH_ANGLE))


with BuildPart() as fusion022_2:
    # Fusion017 placement: moved
    add(fusion022_1.part.moved(Location((-12, -39.5, 0))).rotate(Axis((-12, -39.5, 0), (0, 0, 1)), FUSION017_PLACEMENT_ANGLE))

    # Fusion022: union Fusion018, Cube043, Cube044, Cube042, Fusion015, Fusion016
    add(fusion018_2.part)
    add(cube043_2.part)
    add(cube044_2.part)
    add(cube042_2.part)
    add(fusion015_2.part)
    add(fusion016_2.part)


with BuildPart() as fusion022_3:
    # Fusion022 pitch: moved
    add(fusion022_2.part.rotate(Axis((0, 0, 0), (0, 1, 0)), FUSION022_PITCH_ANGLE))


with BuildPart() as fusion022_4:
    # Fusion022 placement: moved
    add(fusion022_3.part.moved(Location((2.5, -5, -14))).rotate(Axis((2.5, -5, -14), (0, 0, 1)), FUSION022_PLACEMENT_ANGLE))


with BuildPart() as part_mirroring014:
    # Part__Mirroring014: instance of Fusion022
    add(fusion022_4.part.mirror(Plane(origin=(0, 0, 0), x_dir=(1, 0, 0), z_dir=(0, 1, 0))))


with BuildPart() as fusion023:
    # Fusion023 base: copy of Fusion022
    add(fusion022_4.part)

    # Fusion023: union Part__Mirroring014
    add(part_mirroring014.part)


with BuildPart() as fusion023_1:
    # Fusion023 placement: moved
    add(fusion023.part.moved(Location((0, 0, -3.5))))


with BuildPart() as cube062:
    # Box059 → Box059 (new body)
    with BuildSketch(Plane(origin=(-42, 28.5, -30), x_dir=(1, 0, 0), z_dir=(0, 0, 1))):
        with Locations((36, 10.5)):
            Rectangle(BOX059_W, BOX059_H)
    extrude(amount=BOX059_DEPTH)


with BuildPart() as fusion052:
    # Part__Mirroring020: instance of Cube062
    add(cube062.part.mirror(Plane(origin=(0, 0, 0), x_dir=(1, 0, 0), z_dir=(0, 1, 0))))

    # Fusion052: union Cube062
    add(cube062.part)


with BuildPart() as cube013:
    # Box012 → Box012 (new body)
    with BuildSketch(Plane(origin=(-52, -24.5, -25), x_dir=(1, 0, 0), z_dir=(0, 0, 1))):
        with Locations((8, 24.5)):
            Rectangle(BOX012_W, BOX012_H)
    extrude(amount=BOX012_DEPTH)


with BuildPart() as clone_of_chamfer011:
    # Box011 → Box011 (new body)
    with BuildSketch(Plane(origin=(-47, -40.5, -27), x_dir=(1, 0, 0), z_dir=(0, 0, 1))):
        with Locations((34, 40.5)):
            Rectangle(BOX011_W, BOX011_H)
    extrude(amount=BOX011_DEPTH)

    # Cut074: cut Cube013
    add(cube013.part, mode=Mode.SUBTRACT)

    # Cut075: cut Fusion052
    add(fusion052.part, mode=Mode.SUBTRACT)

    # Cut076: cut Fusion023
    add(fusion023_1.part, mode=Mode.SUBTRACT)

    # Cut077: cut Cylinder025
    add(cylinder025_2.part, mode=Mode.SUBTRACT)

    # Fusion053: union Cube015, Cube016
    add(cube015.part)
    add(cube016.part)

    # Cut078: cut Fusion028
    add(fusion028_4.part, mode=Mode.SUBTRACT)

    # Cut079: cut Cylinder147
    add(cylinder147_2.part, mode=Mode.SUBTRACT)

    # Cut080: cut Prism
    add(prism_3.part, mode=Mode.SUBTRACT)

    # Chamfer007
    chamfer007_edges = [clone_of_chamfer011.edges().sort_by_distance(p)[0] for p in [
        (21, 40.5, -2),
        (21, -40.5, -2),
    ]]
    chamfer(chamfer007_edges, length=CHAMFER007_SIZE)

    # Cut081: cut Fusion054
    add(fusion054.part, mode=Mode.SUBTRACT)

    # Chamfer008
    chamfer008_edges = [clone_of_chamfer011.edges().sort_by_distance(p)[0] for p in [
        (-28, 0, -40),
    ]]
    chamfer(chamfer008_edges, length=CHAMFER008_SIZE)

    # Cut082: cut Cube063
    add(cube063.part, mode=Mode.SUBTRACT)

    # Cut085: cut Cube064
    add(cube064.part, mode=Mode.SUBTRACT)

    # Chamfer011
    chamfer011_edges = [clone_of_chamfer011.edges().sort_by_distance(p)[0] for p in [
        (-47, -32.5, -6),
        (-47, 32.5, -6),
    ]]
    chamfer(chamfer011_edges, length=CHAMFER011_SIZE)


solid = clone_of_chamfer011.part
